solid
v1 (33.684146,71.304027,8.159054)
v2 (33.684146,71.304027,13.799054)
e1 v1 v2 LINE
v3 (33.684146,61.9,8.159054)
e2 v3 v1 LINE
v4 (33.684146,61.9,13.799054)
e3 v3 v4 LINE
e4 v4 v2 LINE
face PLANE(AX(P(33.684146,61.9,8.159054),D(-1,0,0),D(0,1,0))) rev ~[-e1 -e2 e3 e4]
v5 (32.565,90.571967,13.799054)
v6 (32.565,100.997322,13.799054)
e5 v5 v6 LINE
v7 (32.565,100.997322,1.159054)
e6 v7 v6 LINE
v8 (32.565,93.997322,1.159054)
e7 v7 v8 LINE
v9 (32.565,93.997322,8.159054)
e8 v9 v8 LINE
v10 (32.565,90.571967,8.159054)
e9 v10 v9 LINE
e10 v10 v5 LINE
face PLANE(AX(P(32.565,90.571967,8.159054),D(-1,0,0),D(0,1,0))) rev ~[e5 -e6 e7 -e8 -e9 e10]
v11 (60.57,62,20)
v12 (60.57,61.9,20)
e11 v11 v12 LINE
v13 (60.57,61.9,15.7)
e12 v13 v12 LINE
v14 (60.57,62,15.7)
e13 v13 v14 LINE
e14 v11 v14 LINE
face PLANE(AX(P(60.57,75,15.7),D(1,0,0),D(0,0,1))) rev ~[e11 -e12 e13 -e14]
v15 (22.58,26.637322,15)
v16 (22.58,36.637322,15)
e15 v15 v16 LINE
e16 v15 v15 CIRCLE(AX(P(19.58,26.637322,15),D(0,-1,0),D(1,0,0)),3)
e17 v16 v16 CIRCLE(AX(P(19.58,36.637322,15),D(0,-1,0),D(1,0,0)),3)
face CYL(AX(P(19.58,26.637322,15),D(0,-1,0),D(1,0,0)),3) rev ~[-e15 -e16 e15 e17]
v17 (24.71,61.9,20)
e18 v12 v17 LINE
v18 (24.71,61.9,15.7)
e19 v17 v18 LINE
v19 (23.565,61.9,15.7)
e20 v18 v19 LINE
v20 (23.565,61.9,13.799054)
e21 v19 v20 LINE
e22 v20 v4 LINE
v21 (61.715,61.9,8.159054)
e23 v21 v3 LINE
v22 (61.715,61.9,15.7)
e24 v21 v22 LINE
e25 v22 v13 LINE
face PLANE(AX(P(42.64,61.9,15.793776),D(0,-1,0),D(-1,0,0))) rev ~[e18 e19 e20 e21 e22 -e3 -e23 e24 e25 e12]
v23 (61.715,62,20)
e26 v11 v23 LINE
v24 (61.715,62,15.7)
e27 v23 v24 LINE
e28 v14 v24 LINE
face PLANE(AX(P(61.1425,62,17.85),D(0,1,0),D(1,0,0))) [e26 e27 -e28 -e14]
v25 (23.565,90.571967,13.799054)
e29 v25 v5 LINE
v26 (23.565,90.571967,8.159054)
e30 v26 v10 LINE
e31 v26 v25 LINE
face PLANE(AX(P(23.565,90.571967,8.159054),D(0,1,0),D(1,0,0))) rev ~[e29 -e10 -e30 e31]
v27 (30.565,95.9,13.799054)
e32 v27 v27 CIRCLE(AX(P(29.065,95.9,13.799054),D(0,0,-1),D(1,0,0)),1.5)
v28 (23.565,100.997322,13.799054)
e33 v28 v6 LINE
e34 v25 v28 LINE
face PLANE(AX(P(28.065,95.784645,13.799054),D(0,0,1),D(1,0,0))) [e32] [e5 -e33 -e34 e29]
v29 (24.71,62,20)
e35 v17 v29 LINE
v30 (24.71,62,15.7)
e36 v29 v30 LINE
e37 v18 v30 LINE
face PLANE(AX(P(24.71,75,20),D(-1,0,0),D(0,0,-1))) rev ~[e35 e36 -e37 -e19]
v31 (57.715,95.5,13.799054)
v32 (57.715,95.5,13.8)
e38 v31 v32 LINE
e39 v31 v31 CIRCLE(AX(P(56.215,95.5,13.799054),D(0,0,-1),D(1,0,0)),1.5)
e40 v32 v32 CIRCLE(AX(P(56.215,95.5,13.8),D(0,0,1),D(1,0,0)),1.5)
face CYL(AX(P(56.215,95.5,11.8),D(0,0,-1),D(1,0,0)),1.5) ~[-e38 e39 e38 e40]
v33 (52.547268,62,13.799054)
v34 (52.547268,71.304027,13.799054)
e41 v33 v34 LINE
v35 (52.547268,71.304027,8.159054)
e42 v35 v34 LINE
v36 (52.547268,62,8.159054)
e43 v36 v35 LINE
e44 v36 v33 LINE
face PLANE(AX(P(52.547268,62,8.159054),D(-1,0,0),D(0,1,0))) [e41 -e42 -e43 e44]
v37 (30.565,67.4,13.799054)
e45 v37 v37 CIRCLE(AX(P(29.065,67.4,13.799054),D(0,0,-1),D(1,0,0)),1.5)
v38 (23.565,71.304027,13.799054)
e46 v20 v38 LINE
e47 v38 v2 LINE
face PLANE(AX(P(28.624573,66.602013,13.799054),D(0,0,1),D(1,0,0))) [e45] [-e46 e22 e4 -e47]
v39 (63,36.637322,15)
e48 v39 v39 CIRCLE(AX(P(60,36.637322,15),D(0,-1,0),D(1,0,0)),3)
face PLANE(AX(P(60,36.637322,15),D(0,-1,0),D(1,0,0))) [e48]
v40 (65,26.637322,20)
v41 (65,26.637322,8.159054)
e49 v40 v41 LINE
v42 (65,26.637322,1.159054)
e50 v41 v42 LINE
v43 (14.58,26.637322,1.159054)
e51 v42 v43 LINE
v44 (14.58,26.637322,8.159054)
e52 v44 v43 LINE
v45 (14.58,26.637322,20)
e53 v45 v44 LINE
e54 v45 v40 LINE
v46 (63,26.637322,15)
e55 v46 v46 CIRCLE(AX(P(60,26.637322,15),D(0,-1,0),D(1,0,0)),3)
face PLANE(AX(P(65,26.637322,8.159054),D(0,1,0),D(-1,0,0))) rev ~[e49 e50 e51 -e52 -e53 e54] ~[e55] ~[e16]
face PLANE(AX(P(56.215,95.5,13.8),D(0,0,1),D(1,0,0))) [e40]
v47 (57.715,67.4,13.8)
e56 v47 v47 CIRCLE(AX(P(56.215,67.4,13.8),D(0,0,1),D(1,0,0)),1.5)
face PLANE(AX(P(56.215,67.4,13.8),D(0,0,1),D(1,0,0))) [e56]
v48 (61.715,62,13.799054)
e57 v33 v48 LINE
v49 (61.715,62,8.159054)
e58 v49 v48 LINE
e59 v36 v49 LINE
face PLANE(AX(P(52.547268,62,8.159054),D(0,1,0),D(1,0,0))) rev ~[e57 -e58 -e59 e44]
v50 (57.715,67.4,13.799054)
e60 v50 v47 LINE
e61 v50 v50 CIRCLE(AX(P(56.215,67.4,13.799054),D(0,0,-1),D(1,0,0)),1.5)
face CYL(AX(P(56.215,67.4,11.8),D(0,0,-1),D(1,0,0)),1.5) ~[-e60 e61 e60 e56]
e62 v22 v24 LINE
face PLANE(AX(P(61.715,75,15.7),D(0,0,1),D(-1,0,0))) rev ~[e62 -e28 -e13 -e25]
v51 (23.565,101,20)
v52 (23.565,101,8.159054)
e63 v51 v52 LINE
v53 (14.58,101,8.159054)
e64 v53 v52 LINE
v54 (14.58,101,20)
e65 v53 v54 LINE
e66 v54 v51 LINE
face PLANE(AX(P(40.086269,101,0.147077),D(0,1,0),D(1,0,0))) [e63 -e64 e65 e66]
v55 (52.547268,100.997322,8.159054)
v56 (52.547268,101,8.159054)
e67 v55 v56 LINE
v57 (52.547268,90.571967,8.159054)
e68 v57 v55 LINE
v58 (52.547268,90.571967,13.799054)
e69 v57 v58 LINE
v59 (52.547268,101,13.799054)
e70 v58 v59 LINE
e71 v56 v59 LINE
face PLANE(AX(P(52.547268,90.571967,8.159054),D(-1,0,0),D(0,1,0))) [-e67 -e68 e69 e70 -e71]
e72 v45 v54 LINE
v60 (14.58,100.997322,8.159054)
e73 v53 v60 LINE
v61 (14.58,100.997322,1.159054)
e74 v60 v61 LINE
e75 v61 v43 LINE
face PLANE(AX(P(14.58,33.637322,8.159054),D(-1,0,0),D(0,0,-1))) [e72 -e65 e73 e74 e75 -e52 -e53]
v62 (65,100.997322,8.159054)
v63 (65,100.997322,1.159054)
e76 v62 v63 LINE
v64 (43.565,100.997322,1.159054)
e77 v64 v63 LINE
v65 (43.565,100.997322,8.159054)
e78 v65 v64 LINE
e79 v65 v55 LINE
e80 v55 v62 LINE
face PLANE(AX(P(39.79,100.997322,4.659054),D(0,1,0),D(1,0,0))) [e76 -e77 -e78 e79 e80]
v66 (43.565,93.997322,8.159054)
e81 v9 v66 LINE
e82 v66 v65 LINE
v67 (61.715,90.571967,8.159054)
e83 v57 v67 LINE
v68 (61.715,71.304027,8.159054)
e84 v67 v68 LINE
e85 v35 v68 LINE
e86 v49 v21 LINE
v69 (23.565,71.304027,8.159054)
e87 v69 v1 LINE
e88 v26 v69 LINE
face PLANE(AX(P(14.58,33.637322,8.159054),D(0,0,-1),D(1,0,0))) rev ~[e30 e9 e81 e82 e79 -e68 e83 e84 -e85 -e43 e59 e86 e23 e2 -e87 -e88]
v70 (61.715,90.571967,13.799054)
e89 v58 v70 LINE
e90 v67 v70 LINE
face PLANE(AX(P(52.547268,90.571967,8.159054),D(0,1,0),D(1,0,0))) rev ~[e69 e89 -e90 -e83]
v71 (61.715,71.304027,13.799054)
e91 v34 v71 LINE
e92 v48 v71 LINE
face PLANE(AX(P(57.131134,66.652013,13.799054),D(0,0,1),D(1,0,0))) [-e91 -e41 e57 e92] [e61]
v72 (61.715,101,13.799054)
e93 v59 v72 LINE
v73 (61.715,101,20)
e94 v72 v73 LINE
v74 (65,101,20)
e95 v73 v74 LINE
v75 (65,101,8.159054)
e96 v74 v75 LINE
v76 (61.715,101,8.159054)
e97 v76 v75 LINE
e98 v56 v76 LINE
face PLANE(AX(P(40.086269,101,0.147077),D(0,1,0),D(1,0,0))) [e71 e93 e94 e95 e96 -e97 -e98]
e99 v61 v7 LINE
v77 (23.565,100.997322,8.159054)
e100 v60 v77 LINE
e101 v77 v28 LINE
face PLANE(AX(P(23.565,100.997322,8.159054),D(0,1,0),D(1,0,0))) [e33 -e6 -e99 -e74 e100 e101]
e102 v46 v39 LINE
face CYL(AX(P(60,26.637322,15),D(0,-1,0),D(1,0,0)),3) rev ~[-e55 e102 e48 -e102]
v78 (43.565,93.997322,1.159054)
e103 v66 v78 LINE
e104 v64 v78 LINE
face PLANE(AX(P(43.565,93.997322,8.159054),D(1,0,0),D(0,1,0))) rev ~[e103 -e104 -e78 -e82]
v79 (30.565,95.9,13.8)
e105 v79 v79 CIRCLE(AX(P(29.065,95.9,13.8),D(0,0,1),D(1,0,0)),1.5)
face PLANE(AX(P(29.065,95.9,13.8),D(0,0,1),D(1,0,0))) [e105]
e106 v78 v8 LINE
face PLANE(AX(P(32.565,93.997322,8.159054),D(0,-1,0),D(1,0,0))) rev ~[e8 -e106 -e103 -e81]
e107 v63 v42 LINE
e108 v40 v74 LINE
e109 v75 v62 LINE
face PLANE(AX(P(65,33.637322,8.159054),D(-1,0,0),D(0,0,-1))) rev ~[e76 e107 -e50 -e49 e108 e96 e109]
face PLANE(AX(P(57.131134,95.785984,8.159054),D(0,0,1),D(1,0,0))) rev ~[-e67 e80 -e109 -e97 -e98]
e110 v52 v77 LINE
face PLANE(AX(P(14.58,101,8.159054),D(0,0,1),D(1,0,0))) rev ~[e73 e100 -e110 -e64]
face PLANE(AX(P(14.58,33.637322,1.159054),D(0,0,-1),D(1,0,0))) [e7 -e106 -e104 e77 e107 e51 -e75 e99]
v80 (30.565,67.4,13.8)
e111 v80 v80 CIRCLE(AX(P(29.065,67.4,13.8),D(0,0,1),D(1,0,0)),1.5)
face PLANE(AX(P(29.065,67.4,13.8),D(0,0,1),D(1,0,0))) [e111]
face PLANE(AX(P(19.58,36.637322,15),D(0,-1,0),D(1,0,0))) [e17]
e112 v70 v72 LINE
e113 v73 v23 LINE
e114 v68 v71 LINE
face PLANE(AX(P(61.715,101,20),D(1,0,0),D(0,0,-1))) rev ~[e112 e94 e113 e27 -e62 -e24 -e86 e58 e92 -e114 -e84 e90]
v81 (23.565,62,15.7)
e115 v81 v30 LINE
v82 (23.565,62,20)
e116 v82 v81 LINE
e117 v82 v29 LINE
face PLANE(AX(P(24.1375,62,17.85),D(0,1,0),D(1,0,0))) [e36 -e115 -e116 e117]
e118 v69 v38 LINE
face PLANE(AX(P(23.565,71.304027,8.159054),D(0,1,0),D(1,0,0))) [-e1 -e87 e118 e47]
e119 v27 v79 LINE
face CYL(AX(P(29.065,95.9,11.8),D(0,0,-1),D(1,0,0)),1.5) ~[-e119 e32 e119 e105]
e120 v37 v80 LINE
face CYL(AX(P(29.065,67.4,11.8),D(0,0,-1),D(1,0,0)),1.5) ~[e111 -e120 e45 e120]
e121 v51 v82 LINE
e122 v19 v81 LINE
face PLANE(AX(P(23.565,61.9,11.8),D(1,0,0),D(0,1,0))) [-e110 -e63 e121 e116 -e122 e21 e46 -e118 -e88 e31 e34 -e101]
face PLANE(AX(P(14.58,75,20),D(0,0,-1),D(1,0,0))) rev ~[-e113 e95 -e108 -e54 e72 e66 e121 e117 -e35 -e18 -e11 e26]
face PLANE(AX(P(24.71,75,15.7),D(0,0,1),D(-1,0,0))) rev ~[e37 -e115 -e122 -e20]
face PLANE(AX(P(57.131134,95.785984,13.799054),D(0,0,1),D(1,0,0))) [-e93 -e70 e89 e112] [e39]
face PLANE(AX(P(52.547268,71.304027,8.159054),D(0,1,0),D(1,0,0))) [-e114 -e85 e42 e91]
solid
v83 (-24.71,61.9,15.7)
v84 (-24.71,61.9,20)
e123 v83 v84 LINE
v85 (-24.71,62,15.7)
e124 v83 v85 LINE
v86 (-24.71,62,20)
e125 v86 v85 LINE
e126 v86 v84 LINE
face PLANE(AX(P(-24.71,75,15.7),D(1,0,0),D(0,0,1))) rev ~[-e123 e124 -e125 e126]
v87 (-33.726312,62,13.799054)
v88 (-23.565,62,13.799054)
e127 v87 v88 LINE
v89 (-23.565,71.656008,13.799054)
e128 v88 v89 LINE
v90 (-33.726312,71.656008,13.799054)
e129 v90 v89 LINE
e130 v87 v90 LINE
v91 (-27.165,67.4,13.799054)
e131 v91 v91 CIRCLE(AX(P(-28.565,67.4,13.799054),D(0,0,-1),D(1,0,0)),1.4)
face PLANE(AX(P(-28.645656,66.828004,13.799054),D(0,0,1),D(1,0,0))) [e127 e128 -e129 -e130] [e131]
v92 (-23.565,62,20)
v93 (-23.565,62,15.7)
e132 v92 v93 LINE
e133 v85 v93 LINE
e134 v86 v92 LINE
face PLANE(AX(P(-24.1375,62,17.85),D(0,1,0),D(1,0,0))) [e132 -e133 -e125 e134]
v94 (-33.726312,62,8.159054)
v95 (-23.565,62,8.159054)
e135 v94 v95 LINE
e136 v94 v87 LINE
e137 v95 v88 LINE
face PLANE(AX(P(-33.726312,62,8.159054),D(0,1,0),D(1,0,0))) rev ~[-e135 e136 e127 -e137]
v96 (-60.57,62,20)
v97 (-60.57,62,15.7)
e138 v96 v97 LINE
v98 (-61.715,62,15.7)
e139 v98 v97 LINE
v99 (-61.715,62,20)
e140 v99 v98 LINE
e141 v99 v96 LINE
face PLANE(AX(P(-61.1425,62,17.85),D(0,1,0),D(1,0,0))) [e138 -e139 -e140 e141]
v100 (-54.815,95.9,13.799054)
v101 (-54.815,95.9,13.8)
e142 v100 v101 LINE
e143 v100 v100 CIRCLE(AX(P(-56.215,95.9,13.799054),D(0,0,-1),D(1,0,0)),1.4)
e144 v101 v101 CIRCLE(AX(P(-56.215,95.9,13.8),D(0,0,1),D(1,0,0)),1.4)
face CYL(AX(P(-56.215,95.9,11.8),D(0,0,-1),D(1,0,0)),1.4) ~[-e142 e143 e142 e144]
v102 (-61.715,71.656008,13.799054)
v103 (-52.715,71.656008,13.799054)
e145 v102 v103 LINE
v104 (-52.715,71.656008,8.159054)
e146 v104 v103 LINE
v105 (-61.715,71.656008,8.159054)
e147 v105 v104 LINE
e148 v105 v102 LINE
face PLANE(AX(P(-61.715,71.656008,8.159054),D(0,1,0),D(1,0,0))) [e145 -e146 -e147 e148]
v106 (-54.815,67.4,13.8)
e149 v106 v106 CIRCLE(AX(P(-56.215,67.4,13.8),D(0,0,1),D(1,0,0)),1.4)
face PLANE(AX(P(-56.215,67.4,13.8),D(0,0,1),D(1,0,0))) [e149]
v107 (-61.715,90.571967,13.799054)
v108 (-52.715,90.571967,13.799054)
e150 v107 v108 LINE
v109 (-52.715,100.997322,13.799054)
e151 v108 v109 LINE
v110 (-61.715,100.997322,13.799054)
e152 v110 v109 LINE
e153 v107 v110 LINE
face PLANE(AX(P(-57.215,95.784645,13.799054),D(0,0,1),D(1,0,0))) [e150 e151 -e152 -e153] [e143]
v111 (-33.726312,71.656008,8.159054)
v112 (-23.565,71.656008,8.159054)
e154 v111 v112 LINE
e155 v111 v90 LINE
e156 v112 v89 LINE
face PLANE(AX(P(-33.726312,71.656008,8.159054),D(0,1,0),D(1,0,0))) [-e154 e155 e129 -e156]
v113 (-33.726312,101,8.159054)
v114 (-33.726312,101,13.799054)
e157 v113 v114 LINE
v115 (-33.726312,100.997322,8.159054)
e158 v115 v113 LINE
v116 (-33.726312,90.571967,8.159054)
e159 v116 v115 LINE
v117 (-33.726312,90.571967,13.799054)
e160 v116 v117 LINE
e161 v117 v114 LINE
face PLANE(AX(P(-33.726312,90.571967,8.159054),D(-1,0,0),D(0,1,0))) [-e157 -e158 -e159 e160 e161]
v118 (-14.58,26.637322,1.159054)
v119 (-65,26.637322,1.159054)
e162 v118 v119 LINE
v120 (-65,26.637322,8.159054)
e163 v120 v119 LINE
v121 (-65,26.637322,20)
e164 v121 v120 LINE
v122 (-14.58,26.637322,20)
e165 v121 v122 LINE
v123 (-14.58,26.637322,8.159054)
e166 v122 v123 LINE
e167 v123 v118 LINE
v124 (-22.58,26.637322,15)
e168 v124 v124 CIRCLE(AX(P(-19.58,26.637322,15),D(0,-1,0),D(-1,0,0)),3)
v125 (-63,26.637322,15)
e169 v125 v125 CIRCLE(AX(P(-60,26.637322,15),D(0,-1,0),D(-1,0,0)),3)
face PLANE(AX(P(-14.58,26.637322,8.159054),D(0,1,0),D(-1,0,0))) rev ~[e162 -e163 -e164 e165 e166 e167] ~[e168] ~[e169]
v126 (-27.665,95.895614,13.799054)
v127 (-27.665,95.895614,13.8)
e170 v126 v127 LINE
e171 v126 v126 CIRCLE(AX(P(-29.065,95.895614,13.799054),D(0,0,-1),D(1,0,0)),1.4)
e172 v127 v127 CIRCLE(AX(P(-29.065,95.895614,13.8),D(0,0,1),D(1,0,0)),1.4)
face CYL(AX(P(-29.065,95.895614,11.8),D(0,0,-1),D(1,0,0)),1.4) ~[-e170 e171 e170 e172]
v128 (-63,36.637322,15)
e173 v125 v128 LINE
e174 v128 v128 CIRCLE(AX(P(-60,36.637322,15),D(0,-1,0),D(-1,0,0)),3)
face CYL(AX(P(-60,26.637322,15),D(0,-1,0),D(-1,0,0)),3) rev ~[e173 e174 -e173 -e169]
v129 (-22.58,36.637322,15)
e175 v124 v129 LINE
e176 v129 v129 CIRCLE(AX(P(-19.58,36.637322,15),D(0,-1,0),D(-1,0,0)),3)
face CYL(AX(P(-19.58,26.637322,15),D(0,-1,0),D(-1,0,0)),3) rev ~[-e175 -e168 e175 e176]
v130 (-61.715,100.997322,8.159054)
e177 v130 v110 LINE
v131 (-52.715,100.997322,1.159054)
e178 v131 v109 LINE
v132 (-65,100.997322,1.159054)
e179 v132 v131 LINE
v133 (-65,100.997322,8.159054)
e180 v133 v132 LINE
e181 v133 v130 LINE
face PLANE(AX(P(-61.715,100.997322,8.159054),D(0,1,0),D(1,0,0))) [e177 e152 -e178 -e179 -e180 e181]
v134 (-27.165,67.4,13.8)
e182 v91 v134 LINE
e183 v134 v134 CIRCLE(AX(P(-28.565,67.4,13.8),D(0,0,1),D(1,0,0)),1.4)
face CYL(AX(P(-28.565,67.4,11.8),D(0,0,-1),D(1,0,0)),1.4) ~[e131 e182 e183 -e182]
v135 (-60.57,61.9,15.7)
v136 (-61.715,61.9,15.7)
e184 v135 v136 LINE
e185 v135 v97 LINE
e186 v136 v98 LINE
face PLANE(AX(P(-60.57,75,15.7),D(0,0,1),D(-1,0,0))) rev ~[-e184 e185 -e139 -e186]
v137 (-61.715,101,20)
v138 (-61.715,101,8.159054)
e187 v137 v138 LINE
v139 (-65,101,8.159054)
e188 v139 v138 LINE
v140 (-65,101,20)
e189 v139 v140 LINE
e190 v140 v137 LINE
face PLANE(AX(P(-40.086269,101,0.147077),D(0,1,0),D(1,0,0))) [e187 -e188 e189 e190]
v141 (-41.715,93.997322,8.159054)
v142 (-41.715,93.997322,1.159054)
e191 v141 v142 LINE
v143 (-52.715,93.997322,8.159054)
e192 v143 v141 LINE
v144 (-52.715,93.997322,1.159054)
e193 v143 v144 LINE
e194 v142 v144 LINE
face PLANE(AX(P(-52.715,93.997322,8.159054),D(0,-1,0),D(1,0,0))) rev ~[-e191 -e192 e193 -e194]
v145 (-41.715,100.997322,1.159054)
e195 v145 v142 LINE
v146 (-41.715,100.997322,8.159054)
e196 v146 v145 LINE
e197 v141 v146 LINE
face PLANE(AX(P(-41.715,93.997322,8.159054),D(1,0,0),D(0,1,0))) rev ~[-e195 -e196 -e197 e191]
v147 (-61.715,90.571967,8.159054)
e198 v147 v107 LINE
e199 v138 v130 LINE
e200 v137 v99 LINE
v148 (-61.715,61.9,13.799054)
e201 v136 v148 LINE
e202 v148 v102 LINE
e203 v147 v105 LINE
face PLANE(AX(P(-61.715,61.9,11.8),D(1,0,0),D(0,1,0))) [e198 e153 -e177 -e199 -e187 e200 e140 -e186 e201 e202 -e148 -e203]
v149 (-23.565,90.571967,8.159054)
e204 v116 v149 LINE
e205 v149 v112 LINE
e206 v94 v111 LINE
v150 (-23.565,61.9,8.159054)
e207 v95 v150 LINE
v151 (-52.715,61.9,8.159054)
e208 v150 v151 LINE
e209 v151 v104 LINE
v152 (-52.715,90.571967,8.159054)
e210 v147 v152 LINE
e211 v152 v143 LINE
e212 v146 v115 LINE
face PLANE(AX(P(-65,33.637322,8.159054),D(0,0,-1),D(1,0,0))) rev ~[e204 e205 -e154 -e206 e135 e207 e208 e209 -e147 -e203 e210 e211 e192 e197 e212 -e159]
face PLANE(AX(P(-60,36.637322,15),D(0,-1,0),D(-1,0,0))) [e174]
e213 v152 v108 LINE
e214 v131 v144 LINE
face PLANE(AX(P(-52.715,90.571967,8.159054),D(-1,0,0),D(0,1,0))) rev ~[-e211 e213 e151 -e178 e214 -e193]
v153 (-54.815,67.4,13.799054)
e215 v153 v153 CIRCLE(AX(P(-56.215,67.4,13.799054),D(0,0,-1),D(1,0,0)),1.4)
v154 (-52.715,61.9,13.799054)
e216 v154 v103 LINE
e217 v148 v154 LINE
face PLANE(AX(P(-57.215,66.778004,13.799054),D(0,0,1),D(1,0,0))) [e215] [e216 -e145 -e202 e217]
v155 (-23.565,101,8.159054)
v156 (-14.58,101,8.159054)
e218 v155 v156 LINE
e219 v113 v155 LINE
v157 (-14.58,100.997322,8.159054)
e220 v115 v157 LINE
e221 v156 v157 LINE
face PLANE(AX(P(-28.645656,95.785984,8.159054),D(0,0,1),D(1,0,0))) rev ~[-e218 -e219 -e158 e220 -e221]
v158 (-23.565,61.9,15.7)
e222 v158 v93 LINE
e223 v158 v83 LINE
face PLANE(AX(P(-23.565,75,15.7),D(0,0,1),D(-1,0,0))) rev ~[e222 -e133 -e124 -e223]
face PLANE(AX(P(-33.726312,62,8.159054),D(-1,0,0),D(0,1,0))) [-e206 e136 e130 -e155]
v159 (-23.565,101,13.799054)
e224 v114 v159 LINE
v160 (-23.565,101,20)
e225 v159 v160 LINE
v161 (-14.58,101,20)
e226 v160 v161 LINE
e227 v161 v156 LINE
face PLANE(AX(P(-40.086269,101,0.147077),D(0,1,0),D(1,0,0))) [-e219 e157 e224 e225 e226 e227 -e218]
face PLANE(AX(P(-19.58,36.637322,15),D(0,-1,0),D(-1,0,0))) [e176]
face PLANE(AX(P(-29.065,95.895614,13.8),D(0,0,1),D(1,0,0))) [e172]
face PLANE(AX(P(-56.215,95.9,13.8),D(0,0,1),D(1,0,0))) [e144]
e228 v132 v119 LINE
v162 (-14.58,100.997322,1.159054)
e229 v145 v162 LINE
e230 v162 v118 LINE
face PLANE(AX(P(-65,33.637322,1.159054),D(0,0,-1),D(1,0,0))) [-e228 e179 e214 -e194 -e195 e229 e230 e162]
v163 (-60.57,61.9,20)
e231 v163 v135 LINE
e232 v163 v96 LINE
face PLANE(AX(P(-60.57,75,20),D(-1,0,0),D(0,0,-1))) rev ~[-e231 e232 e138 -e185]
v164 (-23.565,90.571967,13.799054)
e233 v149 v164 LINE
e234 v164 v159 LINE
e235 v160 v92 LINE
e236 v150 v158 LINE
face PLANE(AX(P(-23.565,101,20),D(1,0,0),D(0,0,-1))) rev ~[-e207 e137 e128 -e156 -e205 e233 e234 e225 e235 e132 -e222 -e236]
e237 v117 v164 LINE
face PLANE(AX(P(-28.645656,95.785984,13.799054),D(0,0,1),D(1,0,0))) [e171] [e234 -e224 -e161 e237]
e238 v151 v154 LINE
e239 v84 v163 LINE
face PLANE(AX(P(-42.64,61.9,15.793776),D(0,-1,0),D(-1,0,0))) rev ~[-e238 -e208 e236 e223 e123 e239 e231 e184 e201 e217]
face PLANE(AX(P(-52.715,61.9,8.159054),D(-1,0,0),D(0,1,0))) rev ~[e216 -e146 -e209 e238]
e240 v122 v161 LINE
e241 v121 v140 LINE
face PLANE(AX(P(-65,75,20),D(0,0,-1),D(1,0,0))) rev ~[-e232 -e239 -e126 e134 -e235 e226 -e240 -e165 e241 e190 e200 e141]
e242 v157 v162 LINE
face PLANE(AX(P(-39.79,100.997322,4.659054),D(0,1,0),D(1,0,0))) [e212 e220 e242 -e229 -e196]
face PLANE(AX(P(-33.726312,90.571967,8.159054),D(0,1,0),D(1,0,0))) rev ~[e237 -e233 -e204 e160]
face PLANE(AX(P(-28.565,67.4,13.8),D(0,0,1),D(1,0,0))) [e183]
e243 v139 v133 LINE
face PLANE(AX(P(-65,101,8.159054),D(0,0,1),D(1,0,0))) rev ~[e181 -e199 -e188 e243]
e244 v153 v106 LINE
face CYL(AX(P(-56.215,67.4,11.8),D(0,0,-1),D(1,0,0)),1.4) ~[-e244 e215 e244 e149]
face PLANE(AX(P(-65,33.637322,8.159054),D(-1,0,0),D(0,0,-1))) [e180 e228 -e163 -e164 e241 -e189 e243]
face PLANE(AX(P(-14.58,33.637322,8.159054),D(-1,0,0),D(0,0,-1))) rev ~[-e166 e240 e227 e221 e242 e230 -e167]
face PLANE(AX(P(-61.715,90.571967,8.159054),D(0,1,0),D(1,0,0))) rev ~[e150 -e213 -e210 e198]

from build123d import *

# Parameters (mm, degrees)
SKETCH2_W            = 130
SKETCH2_H            = 40
BOSS_EXTRUDE1_DEPTH  = 75
SKETCH6_W            = 29.16
SKETCH6_H            = 49.32
BOSS_EXTRUDE2_DEPTH  = 16.07
SKETCH7_W            = 15.96
SKETCH7_H            = 42.65
CUT_EXTRUDE1_DEPTH   = 8.48
SKETCH8_W            = 7
SKETCH8_H            = 42.65
CUT_EXTRUDE2_DEPTH   = 1.145
SKETCH9_W            = 7
SKETCH9_H            = 42.65
CUT_EXTRUDE3_DEPTH   = 1.145
SKETCH11_W           = 35.86
SKETCH11_H           = 21.1
CUT_EXTRUDE4_DEPTH   = 8.2
SKETCH13_W           = 3.9
SKETCH13_H           = 21.1
CUT_EXTRUDE5_DEPTH   = 1.145
SKETCH14_W           = 3.9
SKETCH14_H           = 21.1
CUT_EXTRUDE6_DEPTH   = 1.145
SKETCH15_W           = 35.86
SKETCH15_H           = 21.1
CUT_EXTRUDE7_DEPTH   = 8.2
SKETCH16_W           = 3.9
SKETCH16_H           = 21.1
CUT_EXTRUDE8_DEPTH   = 1.145
SKETCH17_W           = 3.9
SKETCH17_H           = 21.1
CUT_EXTRUDE9_DEPTH   = 1.145
SKETCH20_W           = 29.16
SKETCH20_H           = 16.07
BOSS_EXTRUDE3_DEPTH  = 25.68
SKETCH21_W           = 40
SKETCH21_H           = 25
CUT_EXTRUDE10_DEPTH  = 40
SKETCH22_W           = 50
SKETCH22_H           = 25
CUT_EXTRUDE11_DEPTH  = 40
BOSS_EXTRUDE4_DEPTH  = 8
BOSS_EXTRUDE5_DEPTH  = 8
SKETCH25_W           = 130
SKETCH25_H           = 26.637321837
CUT_EXTRUDE12_DEPTH  = 57.07
SKETCH26_W           = 130
SKETCH26_H           = 25
BOSS_EXTRUDE6_DEPTH  = 40
SKETCH27_W           = 29.16
SKETCH27_H           = 48.362678163
CUT_EXTRUDE13_DEPTH  = 57.07
BOSS_EXTRUDE9_DEPTH  = 26
BOSS_EXTRUDE10_DEPTH = 26
SKETCH32_W           = 38.15
SKETCH32_H           = 39.1
SKETCH32_R           = 2.5
CUT_EXTRUDE14_DEPTH  = 24
SKETCH33_R           = 1.4
BOSS_EXTRUDE11_DEPTH = 2
SKETCH34_W           = 1.145
SKETCH34_H           = 4.3
CUT_EXTRUDE15_DEPTH  = 39
SKETCH35_W           = 38.15
SKETCH35_H           = 39.1
SKETCH35_R           = 2.5
CUT_EXTRUDE16_DEPTH  = 24
SKETCH36_W           = 1.145
SKETCH36_H           = 4.3
CUT_EXTRUDE17_DEPTH  = 39
SKETCH37_R           = 1.5
BOSS_EXTRUDE12_DEPTH = 2
SKETCH41_W           = 11
SKETCH41_H           = 5.5
CUT_EXTRUDE18_DEPTH  = 8.8
SKETCH42_W           = 11
SKETCH42_H           = 5.5
CUT_EXTRUDE19_DEPTH  = 8.8
SKETCH43_R           = 3
CUT_EXTRUDE20_DEPTH  = 10
SKETCH44_R           = 3
CUT_EXTRUDE21_DEPTH  = 10
SKETCH45_W           = 50.42
SKETCH45_H           = 28.159053891
CUT_EXTRUDE22_DEPTH  = 90
SKETCH46_W           = 50.42
SKETCH46_H           = 28.159053891
CUT_EXTRUDE23_DEPTH  = 90
SKETCH47_W           = 50.42
SKETCH47_H           = 7
BOSS_EXTRUDE13_DEPTH = 7
SKETCH48_W           = 50.42
SKETCH48_H           = 7
BOSS_EXTRUDE14_DEPTH = 67.36
SKETCH49_W           = 11
SKETCH49_H           = 7
CUT_EXTRUDE24_DEPTH  = 8
SKETCH50_W           = 9
SKETCH50_H           = 10.425354422
SKETCH50_H_2         = 9.756007641
SKETCH50_W_2         = 10.161312311
SKETCH50_H_3         = 9.656007641
SKETCH50_H_4         = 10.428032585
BOSS_EXTRUDE15_DEPTH = 5.64
SKETCH51_W           = 9
SKETCH51_H           = 10.425354422
SKETCH51_W_2         = 9.167731693
SKETCH51_H_2         = 10.428032585
SKETCH51_W_3         = 10.119146351
SKETCH51_H_3         = 9.404026774
SKETCH51_H_4         = 9.304026774
BOSS_EXTRUDE16_DEPTH = 5.64


with BuildPart() as part:
    # Sketch2 → Boss-Extrude1 (new body)
    with BuildSketch(Plane(origin=(0, 0, 0), x_dir=(1, 0, 0), z_dir=(0, 1, 0))):
        Rectangle(SKETCH2_W, SKETCH2_H)
    extrude(amount=BOSS_EXTRUDE1_DEPTH)

    # Sketch6 → Boss-Extrude2 (add)
    with BuildSketch(Plane.XY.offset(20)):
        with Locations((0, 50.34)):
            Rectangle(SKETCH6_W, SKETCH6_H)
    extrude(amount=BOSS_EXTRUDE2_DEPTH)

    # Sketch7 → Cut-Extrude1 (cut)
    with BuildSketch(Plane.XY.offset(36.07)):
        with Locations((0, 53.675)):
            Rectangle(SKETCH7_W, SKETCH7_H)
    extrude(amount=-CUT_EXTRUDE1_DEPTH, mode=Mode.SUBTRACT)

    # Sketch8 → Cut-Extrude2 (cut)
    with BuildSketch(Plane(origin=(-7.98, 0, 0), x_dir=(0, 0, -1), z_dir=(1, 0, 0))):
        with Locations((-31.09, 53.675)):
            Rectangle(SKETCH8_W, SKETCH8_H)
    extrude(amount=-CUT_EXTRUDE2_DEPTH, mode=Mode.SUBTRACT)

    # Sketch9 → Cut-Extrude3 (cut)
    with BuildSketch(Plane.ZY.offset(-7.98)):
        with Locations((31.09, 53.675)):
            Rectangle(SKETCH9_W, SKETCH9_H)
    extrude(amount=-CUT_EXTRUDE3_DEPTH, mode=Mode.SUBTRACT)

    # Sketch11 → Cut-Extrude4 (cut)
    with BuildSketch(Plane.XY.offset(20)):
        with Locations((42.64, 64.45)):
            Rectangle(SKETCH11_W, SKETCH11_H)
    extrude(amount=-CUT_EXTRUDE4_DEPTH, mode=Mode.SUBTRACT)

    # Sketch13 → Cut-Extrude5 (cut)
    with BuildSketch(Plane(origin=(24.71, 0, 0), x_dir=(0, 0, -1), z_dir=(1, 0, 0))):
        with Locations((-13.75, 64.45)):
            Rectangle(SKETCH13_W, SKETCH13_H)
    extrude(amount=-CUT_EXTRUDE5_DEPTH, mode=Mode.SUBTRACT)

    # Sketch14 → Cut-Extrude6 (cut)
    with BuildSketch(Plane.ZY.offset(-60.57)):
        with Locations((13.75, 64.45)):
            Rectangle(SKETCH14_W, SKETCH14_H)
    extrude(amount=-CUT_EXTRUDE6_DEPTH, mode=Mode.SUBTRACT)

    # Sketch15 → Cut-Extrude7 (cut)
    with BuildSketch(Plane.XY.offset(20)):
        with Locations((-42.64, 64.45)):
            Rectangle(SKETCH15_W, SKETCH15_H)
    extrude(amount=-CUT_EXTRUDE7_DEPTH, mode=Mode.SUBTRACT)

    # Sketch16 → Cut-Extrude8 (cut)
    with BuildSketch(Plane(origin=(-60.57, 0, 0), x_dir=(0, 0, -1), z_dir=(1, 0, 0))):
        with Locations((-13.75, 64.45)):
            Rectangle(SKETCH16_W, SKETCH16_H)
    extrude(amount=-CUT_EXTRUDE8_DEPTH, mode=Mode.SUBTRACT)

    # Sketch17 → Cut-Extrude9 (cut)
    with BuildSketch(Plane.ZY.offset(24.71)):
        with Locations((13.75, 64.45)):
            Rectangle(SKETCH17_W, SKETCH17_H)
    extrude(amount=-CUT_EXTRUDE9_DEPTH, mode=Mode.SUBTRACT)

    # Sketch20 → Boss-Extrude3 (add)
    with BuildSketch(Plane(origin=(0, 25.68, 0), x_dir=(-1, 0, 0), z_dir=(0, -1, 0))):
        with Locations((0, -28.035)):
            Rectangle(SKETCH20_W, SKETCH20_H)
    extrude(amount=BOSS_EXTRUDE3_DEPTH)

    # Sketch21 → Cut-Extrude10 (cut)
    with BuildSketch(Plane(origin=(0, 75, 0), x_dir=(1, 0, 0), z_dir=(0, 1, 0))):
        with Locations((45, 7.5)):
            Rectangle(SKETCH21_W, SKETCH21_H)
        with Locations((-45, 7.5)):
            Rectangle(SKETCH21_W, SKETCH21_H)
    extrude(amount=-CUT_EXTRUDE10_DEPTH, mode=Mode.SUBTRACT)

    # Sketch22 → Cut-Extrude11 (cut)
    with BuildSketch(Plane(origin=(0, 75, 0), x_dir=(1, 0, 0), z_dir=(0, 1, 0))):
        with Locations((0, 7.5)):
            Rectangle(SKETCH22_W, SKETCH22_H)
    extrude(amount=-CUT_EXTRUDE11_DEPTH, mode=Mode.SUBTRACT)

    # Sketch23 → Boss-Extrude4 (add)
    with BuildSketch(Plane(origin=(0, 53.9, 0), x_dir=(1, 0, 0), z_dir=(0, 1, 0))):
        Polygon((-60.57, -20), (-60.57, -15.7), (-61.715, -15.7), (-61.715, -11.8), (-23.565, -11.8), (-23.565, -15.7), (-24.71, -15.7), (-24.71, -20), align=None)
    extrude(amount=BOSS_EXTRUDE4_DEPTH)

    # Sketch24 → Boss-Extrude5 (add)
    with BuildSketch(Plane(origin=(0, 53.9, 0), x_dir=(1, 0, 0), z_dir=(0, 1, 0))):
        Polygon((24.71, -20), (24.71, -15.7), (23.565, -15.7), (23.565, -11.8), (61.715, -11.8), (61.715, -15.7), (60.57, -15.7), (60.57, -20), align=None)
    extrude(amount=BOSS_EXTRUDE5_DEPTH)

    # Sketch25 → Cut-Extrude12 (cut, through all)
    with BuildSketch(Plane.XY.offset(36.07)):
        with Locations((0, 13.318660919)):
            Rectangle(SKETCH25_W, SKETCH25_H)
    extrude(amount=-CUT_EXTRUDE12_DEPTH, mode=Mode.SUBTRACT)

    # Sketch26 → Boss-Extrude6 (add)
    with BuildSketch(Plane(origin=(0, 35, 0), x_dir=(1, 0, 0), z_dir=(0, 1, 0))):
        with Locations((0, 7.5)):
            Rectangle(SKETCH26_W, SKETCH26_H)
    extrude(amount=BOSS_EXTRUDE6_DEPTH)

    # Sketch27 → Cut-Extrude13 (cut, through all)
    with BuildSketch(Plane.XY.offset(36.07)):
        with Locations((0, 50.818660919)):
            Rectangle(SKETCH27_W, SKETCH27_H)
    extrude(amount=-CUT_EXTRUDE13_DEPTH, mode=Mode.SUBTRACT)

    # Sketch30 → Boss-Extrude9 (add)
    with BuildSketch(Plane(origin=(0, 75, 0), x_dir=(1, 0, 0), z_dir=(0, 1, 0))):
        Polygon((-65, 20), (-65, -20), (-60.57, -20), (-60.57, -15.7), (-61.715, -15.7), (-61.715, -11.8), (-23.565, -11.8), (-23.565, -15.7), (-24.71, -15.7), (-24.71, -20), (-14.58, -20), (-14.58, 20), align=None)
    extrude(amount=BOSS_EXTRUDE9_DEPTH)

    # Sketch31 → Boss-Extrude10 (add)
    with BuildSketch(Plane(origin=(0, 75, 0), x_dir=(1, 0, 0), z_dir=(0, 1, 0))):
        Polygon((14.58, 20), (14.58, -20), (24.71, -20), (24.71, -15.7), (23.565, -15.7), (23.565, -11.8), (61.715, -11.8), (61.715, -15.7), (60.57, -15.7), (60.57, -20), (65, -20), (65, 20), align=None)
    extrude(amount=BOSS_EXTRUDE10_DEPTH)

    # Sketch32 → Cut-Extrude14 (cut)
    with BuildSketch(Plane.XY.offset(11.8)):
        with Locations((-42.64, 81.45)):
            Rectangle(SKETCH32_W, SKETCH32_H)
        with Locations((-56.215, 95.9)):
            Circle(SKETCH32_R, mode=Mode.SUBTRACT)
        with Locations((-56.215, 67.4)):
            Circle(SKETCH32_R, mode=Mode.SUBTRACT)
        with Locations((-29.065, 95.895613698)):
            Circle(SKETCH32_R, mode=Mode.SUBTRACT)
        with Locations((-28.565, 67.4)):
            Circle(SKETCH32_R, mode=Mode.SUBTRACT)
    extrude(amount=-CUT_EXTRUDE14_DEPTH, mode=Mode.SUBTRACT)

    # Sketch33 → Boss-Extrude11 (add)
    with BuildSketch(Plane.XY.offset(11.8)):
        with Locations((-56.215, 95.9)):
            Circle(SKETCH33_R)
        with Locations((-56.215, 67.4)):
            Circle(SKETCH33_R)
        with Locations((-29.065, 95.895613698)):
            Circle(SKETCH33_R)
        with Locations((-28.565, 67.4)):
            Circle(SKETCH33_R)
    extrude(amount=BOSS_EXTRUDE11_DEPTH)

    # Sketch34 → Cut-Extrude15 (cut)
    with BuildSketch(Plane(origin=(0, 101, 0), x_dir=(1, 0, 0), z_dir=(0, 1, 0))):
        with Locations((-61.1425, -17.85)):
            Rectangle(SKETCH34_W, SKETCH34_H)
        with Locations((-24.1375, -17.85)):
            Rectangle(SKETCH34_W, SKETCH34_H)
    extrude(amount=-CUT_EXTRUDE15_DEPTH, mode=Mode.SUBTRACT)

    # Sketch35 → Cut-Extrude16 (cut)
    with BuildSketch(Plane.XY.offset(11.8)):
        with Locations((42.64, 81.45)):
            Rectangle(SKETCH35_W, SKETCH35_H)
        with Locations((29.065, 67.4)):
            Circle(SKETCH35_R, mode=Mode.SUBTRACT)
        with Locations((29.065, 95.9)):
            Circle(SKETCH35_R, mode=Mode.SUBTRACT)
        with Locations((56.215, 67.4)):
            Circle(SKETCH35_R, mode=Mode.SUBTRACT)
        with Locations((56.215, 95.5)):
            Circle(SKETCH35_R, mode=Mode.SUBTRACT)
    extrude(amount=-CUT_EXTRUDE16_DEPTH, mode=Mode.SUBTRACT)

    # Sketch36 → Cut-Extrude17 (cut)
    with BuildSketch(Plane(origin=(0, 101, 0), x_dir=(1, 0, 0), z_dir=(0, 1, 0))):
        with Locations((24.1375, -17.85)):
            Rectangle(SKETCH36_W, SKETCH36_H)
        with Locations((61.1425, -17.85)):
            Rectangle(SKETCH36_W, SKETCH36_H)
    extrude(amount=-CUT_EXTRUDE17_DEPTH, mode=Mode.SUBTRACT)

    # Sketch37 → Boss-Extrude12 (add)
    with BuildSketch(Plane.XY.offset(11.8)):
        with Locations((29.065, 95.9)):
            Circle(SKETCH37_R)
        with Locations((29.065, 67.4)):
            Circle(SKETCH37_R)
        with Locations((56.215, 95.5)):
            Circle(SKETCH37_R)
        with Locations((56.215, 67.4)):
            Circle(SKETCH37_R)
    extrude(amount=BOSS_EXTRUDE12_DEPTH)

    # Sketch41 → Cut-Extrude18 (cut, through all)
    with BuildSketch(Plane.XY.offset(-12.2)):
        with Locations((-46.215, 98.25)):
            Rectangle(SKETCH41_W, SKETCH41_H)
    extrude(amount=-CUT_EXTRUDE18_DEPTH, mode=Mode.SUBTRACT)

    # Sketch42 → Cut-Extrude19 (cut, through all)
    with BuildSketch(Plane.XY.offset(-12.2)):
        with Locations((39.065, 98.25)):
            Rectangle(SKETCH42_W, SKETCH42_H)
    extrude(amount=-CUT_EXTRUDE19_DEPTH, mode=Mode.SUBTRACT)

    # Sketch43 → Cut-Extrude20 (cut)
    with BuildSketch(Plane(origin=(0, 26.637321837, 0), x_dir=(-1, 0, 0), z_dir=(0, -1, 0))):
        with Locations((60, -15)):
            Circle(SKETCH43_R)
        with Locations((60, 15)):
            Circle(SKETCH43_R)
        with Locations((19.58, -15)):
            Circle(SKETCH43_R)
        with Locations((19.58, 15)):
            Circle(SKETCH43_R)
    extrude(amount=-CUT_EXTRUDE20_DEPTH, mode=Mode.SUBTRACT)

    # Sketch44 → Cut-Extrude21 (cut)
    with BuildSketch(Plane.XZ.offset(-26.637321837)):
        with Locations((19.58, 15)):
            Circle(SKETCH44_R)
        with Locations((19.58, -15)):
            Circle(SKETCH44_R)
        with Locations((60, 15)):
            Circle(SKETCH44_R)
        with Locations((60, -15)):
            Circle(SKETCH44_R)
    extrude(amount=-CUT_EXTRUDE21_DEPTH, mode=Mode.SUBTRACT)

    # Sketch45 → Cut-Extrude22 (cut)
    with BuildSketch(Plane(origin=(0, 101, 0), x_dir=(1, 0, 0), z_dir=(0, 1, 0))):
        with Locations((39.79, 5.920473054)):
            Rectangle(SKETCH45_W, SKETCH45_H)
    extrude(amount=-CUT_EXTRUDE22_DEPTH, mode=Mode.SUBTRACT)

    # Sketch46 → Cut-Extrude23 (cut)
    with BuildSketch(Plane(origin=(0, 101, 0), x_dir=(1, 0, 0), z_dir=(0, 1, 0))):
        with Locations((-39.79, 5.920473054)):
            Rectangle(SKETCH46_W, SKETCH46_H)
    extrude(amount=-CUT_EXTRUDE23_DEPTH, mode=Mode.SUBTRACT)

    # Sketch47 → Boss-Extrude13 (add)
    with BuildSketch(Plane(origin=(0, 0, 8.159053891), x_dir=(-1, 0, 0), z_dir=(0, 0, -1))):
        with Locations((-39.79, 30.137321837)):
            Rectangle(SKETCH47_W, SKETCH47_H)
        with Locations((39.79, 30.137321837)):
            Rectangle(SKETCH47_W, SKETCH47_H)
    extrude(amount=BOSS_EXTRUDE13_DEPTH)

    # Sketch48 → Boss-Extrude14 (add)
    with BuildSketch(Plane(origin=(0, 33.637321837, 0), x_dir=(1, 0, 0), z_dir=(0, 1, 0))):
        with Locations((39.79, -4.659053891)):
            Rectangle(SKETCH48_W, SKETCH48_H)
        with Locations((-39.79, -4.659053891)):
            Rectangle(SKETCH48_W, SKETCH48_H)
    extrude(amount=BOSS_EXTRUDE14_DEPTH)

    # Sketch49 → Cut-Extrude24 (cut, through all)
    with BuildSketch(Plane.XY.offset(8.159053891)):
        with Locations((-47.215, 97.497321837)):
            Rectangle(SKETCH49_W, SKETCH49_H)
        with Locations((38.065, 97.497321837)):
            Rectangle(SKETCH49_W, SKETCH49_H)
    extrude(amount=-CUT_EXTRUDE24_DEPTH, mode=Mode.SUBTRACT)

    # Sketch50 → Boss-Extrude15 (add)
    with BuildSketch(Plane.XY.offset(8.159053891)):
        with Locations((-57.215, 95.784644626)):
            Rectangle(SKETCH50_W, SKETCH50_H)
        with Locations((-57.215, 66.778003821)):
            Rectangle(SKETCH50_W, SKETCH50_H_2)
        with Locations((-28.645656155, 66.828003821)):
            Rectangle(SKETCH50_W_2, SKETCH50_H_3)
        with Locations((-28.645656155, 95.785983708)):
            Rectangle(SKETCH50_W_2, SKETCH50_H_4)
    extrude(amount=BOSS_EXTRUDE15_DEPTH)

    # Sketch51 → Boss-Extrude16 (add)
    with BuildSketch(Plane.XY.offset(8.159053891)):
        with Locations((28.065, 95.784644626)):
            Rectangle(SKETCH51_W, SKETCH51_H)
        with Locations((57.131134153, 95.785983708)):
            Rectangle(SKETCH51_W_2, SKETCH51_H_2)
        with Locations((28.624573176, 66.602013387)):
            Rectangle(SKETCH51_W_3, SKETCH51_H_3)
        with Locations((57.131134153, 66.652013387)):
            Rectangle(SKETCH51_W_2, SKETCH51_H_4)
    extrude(amount=BOSS_EXTRUDE16_DEPTH)


solid = part.part
